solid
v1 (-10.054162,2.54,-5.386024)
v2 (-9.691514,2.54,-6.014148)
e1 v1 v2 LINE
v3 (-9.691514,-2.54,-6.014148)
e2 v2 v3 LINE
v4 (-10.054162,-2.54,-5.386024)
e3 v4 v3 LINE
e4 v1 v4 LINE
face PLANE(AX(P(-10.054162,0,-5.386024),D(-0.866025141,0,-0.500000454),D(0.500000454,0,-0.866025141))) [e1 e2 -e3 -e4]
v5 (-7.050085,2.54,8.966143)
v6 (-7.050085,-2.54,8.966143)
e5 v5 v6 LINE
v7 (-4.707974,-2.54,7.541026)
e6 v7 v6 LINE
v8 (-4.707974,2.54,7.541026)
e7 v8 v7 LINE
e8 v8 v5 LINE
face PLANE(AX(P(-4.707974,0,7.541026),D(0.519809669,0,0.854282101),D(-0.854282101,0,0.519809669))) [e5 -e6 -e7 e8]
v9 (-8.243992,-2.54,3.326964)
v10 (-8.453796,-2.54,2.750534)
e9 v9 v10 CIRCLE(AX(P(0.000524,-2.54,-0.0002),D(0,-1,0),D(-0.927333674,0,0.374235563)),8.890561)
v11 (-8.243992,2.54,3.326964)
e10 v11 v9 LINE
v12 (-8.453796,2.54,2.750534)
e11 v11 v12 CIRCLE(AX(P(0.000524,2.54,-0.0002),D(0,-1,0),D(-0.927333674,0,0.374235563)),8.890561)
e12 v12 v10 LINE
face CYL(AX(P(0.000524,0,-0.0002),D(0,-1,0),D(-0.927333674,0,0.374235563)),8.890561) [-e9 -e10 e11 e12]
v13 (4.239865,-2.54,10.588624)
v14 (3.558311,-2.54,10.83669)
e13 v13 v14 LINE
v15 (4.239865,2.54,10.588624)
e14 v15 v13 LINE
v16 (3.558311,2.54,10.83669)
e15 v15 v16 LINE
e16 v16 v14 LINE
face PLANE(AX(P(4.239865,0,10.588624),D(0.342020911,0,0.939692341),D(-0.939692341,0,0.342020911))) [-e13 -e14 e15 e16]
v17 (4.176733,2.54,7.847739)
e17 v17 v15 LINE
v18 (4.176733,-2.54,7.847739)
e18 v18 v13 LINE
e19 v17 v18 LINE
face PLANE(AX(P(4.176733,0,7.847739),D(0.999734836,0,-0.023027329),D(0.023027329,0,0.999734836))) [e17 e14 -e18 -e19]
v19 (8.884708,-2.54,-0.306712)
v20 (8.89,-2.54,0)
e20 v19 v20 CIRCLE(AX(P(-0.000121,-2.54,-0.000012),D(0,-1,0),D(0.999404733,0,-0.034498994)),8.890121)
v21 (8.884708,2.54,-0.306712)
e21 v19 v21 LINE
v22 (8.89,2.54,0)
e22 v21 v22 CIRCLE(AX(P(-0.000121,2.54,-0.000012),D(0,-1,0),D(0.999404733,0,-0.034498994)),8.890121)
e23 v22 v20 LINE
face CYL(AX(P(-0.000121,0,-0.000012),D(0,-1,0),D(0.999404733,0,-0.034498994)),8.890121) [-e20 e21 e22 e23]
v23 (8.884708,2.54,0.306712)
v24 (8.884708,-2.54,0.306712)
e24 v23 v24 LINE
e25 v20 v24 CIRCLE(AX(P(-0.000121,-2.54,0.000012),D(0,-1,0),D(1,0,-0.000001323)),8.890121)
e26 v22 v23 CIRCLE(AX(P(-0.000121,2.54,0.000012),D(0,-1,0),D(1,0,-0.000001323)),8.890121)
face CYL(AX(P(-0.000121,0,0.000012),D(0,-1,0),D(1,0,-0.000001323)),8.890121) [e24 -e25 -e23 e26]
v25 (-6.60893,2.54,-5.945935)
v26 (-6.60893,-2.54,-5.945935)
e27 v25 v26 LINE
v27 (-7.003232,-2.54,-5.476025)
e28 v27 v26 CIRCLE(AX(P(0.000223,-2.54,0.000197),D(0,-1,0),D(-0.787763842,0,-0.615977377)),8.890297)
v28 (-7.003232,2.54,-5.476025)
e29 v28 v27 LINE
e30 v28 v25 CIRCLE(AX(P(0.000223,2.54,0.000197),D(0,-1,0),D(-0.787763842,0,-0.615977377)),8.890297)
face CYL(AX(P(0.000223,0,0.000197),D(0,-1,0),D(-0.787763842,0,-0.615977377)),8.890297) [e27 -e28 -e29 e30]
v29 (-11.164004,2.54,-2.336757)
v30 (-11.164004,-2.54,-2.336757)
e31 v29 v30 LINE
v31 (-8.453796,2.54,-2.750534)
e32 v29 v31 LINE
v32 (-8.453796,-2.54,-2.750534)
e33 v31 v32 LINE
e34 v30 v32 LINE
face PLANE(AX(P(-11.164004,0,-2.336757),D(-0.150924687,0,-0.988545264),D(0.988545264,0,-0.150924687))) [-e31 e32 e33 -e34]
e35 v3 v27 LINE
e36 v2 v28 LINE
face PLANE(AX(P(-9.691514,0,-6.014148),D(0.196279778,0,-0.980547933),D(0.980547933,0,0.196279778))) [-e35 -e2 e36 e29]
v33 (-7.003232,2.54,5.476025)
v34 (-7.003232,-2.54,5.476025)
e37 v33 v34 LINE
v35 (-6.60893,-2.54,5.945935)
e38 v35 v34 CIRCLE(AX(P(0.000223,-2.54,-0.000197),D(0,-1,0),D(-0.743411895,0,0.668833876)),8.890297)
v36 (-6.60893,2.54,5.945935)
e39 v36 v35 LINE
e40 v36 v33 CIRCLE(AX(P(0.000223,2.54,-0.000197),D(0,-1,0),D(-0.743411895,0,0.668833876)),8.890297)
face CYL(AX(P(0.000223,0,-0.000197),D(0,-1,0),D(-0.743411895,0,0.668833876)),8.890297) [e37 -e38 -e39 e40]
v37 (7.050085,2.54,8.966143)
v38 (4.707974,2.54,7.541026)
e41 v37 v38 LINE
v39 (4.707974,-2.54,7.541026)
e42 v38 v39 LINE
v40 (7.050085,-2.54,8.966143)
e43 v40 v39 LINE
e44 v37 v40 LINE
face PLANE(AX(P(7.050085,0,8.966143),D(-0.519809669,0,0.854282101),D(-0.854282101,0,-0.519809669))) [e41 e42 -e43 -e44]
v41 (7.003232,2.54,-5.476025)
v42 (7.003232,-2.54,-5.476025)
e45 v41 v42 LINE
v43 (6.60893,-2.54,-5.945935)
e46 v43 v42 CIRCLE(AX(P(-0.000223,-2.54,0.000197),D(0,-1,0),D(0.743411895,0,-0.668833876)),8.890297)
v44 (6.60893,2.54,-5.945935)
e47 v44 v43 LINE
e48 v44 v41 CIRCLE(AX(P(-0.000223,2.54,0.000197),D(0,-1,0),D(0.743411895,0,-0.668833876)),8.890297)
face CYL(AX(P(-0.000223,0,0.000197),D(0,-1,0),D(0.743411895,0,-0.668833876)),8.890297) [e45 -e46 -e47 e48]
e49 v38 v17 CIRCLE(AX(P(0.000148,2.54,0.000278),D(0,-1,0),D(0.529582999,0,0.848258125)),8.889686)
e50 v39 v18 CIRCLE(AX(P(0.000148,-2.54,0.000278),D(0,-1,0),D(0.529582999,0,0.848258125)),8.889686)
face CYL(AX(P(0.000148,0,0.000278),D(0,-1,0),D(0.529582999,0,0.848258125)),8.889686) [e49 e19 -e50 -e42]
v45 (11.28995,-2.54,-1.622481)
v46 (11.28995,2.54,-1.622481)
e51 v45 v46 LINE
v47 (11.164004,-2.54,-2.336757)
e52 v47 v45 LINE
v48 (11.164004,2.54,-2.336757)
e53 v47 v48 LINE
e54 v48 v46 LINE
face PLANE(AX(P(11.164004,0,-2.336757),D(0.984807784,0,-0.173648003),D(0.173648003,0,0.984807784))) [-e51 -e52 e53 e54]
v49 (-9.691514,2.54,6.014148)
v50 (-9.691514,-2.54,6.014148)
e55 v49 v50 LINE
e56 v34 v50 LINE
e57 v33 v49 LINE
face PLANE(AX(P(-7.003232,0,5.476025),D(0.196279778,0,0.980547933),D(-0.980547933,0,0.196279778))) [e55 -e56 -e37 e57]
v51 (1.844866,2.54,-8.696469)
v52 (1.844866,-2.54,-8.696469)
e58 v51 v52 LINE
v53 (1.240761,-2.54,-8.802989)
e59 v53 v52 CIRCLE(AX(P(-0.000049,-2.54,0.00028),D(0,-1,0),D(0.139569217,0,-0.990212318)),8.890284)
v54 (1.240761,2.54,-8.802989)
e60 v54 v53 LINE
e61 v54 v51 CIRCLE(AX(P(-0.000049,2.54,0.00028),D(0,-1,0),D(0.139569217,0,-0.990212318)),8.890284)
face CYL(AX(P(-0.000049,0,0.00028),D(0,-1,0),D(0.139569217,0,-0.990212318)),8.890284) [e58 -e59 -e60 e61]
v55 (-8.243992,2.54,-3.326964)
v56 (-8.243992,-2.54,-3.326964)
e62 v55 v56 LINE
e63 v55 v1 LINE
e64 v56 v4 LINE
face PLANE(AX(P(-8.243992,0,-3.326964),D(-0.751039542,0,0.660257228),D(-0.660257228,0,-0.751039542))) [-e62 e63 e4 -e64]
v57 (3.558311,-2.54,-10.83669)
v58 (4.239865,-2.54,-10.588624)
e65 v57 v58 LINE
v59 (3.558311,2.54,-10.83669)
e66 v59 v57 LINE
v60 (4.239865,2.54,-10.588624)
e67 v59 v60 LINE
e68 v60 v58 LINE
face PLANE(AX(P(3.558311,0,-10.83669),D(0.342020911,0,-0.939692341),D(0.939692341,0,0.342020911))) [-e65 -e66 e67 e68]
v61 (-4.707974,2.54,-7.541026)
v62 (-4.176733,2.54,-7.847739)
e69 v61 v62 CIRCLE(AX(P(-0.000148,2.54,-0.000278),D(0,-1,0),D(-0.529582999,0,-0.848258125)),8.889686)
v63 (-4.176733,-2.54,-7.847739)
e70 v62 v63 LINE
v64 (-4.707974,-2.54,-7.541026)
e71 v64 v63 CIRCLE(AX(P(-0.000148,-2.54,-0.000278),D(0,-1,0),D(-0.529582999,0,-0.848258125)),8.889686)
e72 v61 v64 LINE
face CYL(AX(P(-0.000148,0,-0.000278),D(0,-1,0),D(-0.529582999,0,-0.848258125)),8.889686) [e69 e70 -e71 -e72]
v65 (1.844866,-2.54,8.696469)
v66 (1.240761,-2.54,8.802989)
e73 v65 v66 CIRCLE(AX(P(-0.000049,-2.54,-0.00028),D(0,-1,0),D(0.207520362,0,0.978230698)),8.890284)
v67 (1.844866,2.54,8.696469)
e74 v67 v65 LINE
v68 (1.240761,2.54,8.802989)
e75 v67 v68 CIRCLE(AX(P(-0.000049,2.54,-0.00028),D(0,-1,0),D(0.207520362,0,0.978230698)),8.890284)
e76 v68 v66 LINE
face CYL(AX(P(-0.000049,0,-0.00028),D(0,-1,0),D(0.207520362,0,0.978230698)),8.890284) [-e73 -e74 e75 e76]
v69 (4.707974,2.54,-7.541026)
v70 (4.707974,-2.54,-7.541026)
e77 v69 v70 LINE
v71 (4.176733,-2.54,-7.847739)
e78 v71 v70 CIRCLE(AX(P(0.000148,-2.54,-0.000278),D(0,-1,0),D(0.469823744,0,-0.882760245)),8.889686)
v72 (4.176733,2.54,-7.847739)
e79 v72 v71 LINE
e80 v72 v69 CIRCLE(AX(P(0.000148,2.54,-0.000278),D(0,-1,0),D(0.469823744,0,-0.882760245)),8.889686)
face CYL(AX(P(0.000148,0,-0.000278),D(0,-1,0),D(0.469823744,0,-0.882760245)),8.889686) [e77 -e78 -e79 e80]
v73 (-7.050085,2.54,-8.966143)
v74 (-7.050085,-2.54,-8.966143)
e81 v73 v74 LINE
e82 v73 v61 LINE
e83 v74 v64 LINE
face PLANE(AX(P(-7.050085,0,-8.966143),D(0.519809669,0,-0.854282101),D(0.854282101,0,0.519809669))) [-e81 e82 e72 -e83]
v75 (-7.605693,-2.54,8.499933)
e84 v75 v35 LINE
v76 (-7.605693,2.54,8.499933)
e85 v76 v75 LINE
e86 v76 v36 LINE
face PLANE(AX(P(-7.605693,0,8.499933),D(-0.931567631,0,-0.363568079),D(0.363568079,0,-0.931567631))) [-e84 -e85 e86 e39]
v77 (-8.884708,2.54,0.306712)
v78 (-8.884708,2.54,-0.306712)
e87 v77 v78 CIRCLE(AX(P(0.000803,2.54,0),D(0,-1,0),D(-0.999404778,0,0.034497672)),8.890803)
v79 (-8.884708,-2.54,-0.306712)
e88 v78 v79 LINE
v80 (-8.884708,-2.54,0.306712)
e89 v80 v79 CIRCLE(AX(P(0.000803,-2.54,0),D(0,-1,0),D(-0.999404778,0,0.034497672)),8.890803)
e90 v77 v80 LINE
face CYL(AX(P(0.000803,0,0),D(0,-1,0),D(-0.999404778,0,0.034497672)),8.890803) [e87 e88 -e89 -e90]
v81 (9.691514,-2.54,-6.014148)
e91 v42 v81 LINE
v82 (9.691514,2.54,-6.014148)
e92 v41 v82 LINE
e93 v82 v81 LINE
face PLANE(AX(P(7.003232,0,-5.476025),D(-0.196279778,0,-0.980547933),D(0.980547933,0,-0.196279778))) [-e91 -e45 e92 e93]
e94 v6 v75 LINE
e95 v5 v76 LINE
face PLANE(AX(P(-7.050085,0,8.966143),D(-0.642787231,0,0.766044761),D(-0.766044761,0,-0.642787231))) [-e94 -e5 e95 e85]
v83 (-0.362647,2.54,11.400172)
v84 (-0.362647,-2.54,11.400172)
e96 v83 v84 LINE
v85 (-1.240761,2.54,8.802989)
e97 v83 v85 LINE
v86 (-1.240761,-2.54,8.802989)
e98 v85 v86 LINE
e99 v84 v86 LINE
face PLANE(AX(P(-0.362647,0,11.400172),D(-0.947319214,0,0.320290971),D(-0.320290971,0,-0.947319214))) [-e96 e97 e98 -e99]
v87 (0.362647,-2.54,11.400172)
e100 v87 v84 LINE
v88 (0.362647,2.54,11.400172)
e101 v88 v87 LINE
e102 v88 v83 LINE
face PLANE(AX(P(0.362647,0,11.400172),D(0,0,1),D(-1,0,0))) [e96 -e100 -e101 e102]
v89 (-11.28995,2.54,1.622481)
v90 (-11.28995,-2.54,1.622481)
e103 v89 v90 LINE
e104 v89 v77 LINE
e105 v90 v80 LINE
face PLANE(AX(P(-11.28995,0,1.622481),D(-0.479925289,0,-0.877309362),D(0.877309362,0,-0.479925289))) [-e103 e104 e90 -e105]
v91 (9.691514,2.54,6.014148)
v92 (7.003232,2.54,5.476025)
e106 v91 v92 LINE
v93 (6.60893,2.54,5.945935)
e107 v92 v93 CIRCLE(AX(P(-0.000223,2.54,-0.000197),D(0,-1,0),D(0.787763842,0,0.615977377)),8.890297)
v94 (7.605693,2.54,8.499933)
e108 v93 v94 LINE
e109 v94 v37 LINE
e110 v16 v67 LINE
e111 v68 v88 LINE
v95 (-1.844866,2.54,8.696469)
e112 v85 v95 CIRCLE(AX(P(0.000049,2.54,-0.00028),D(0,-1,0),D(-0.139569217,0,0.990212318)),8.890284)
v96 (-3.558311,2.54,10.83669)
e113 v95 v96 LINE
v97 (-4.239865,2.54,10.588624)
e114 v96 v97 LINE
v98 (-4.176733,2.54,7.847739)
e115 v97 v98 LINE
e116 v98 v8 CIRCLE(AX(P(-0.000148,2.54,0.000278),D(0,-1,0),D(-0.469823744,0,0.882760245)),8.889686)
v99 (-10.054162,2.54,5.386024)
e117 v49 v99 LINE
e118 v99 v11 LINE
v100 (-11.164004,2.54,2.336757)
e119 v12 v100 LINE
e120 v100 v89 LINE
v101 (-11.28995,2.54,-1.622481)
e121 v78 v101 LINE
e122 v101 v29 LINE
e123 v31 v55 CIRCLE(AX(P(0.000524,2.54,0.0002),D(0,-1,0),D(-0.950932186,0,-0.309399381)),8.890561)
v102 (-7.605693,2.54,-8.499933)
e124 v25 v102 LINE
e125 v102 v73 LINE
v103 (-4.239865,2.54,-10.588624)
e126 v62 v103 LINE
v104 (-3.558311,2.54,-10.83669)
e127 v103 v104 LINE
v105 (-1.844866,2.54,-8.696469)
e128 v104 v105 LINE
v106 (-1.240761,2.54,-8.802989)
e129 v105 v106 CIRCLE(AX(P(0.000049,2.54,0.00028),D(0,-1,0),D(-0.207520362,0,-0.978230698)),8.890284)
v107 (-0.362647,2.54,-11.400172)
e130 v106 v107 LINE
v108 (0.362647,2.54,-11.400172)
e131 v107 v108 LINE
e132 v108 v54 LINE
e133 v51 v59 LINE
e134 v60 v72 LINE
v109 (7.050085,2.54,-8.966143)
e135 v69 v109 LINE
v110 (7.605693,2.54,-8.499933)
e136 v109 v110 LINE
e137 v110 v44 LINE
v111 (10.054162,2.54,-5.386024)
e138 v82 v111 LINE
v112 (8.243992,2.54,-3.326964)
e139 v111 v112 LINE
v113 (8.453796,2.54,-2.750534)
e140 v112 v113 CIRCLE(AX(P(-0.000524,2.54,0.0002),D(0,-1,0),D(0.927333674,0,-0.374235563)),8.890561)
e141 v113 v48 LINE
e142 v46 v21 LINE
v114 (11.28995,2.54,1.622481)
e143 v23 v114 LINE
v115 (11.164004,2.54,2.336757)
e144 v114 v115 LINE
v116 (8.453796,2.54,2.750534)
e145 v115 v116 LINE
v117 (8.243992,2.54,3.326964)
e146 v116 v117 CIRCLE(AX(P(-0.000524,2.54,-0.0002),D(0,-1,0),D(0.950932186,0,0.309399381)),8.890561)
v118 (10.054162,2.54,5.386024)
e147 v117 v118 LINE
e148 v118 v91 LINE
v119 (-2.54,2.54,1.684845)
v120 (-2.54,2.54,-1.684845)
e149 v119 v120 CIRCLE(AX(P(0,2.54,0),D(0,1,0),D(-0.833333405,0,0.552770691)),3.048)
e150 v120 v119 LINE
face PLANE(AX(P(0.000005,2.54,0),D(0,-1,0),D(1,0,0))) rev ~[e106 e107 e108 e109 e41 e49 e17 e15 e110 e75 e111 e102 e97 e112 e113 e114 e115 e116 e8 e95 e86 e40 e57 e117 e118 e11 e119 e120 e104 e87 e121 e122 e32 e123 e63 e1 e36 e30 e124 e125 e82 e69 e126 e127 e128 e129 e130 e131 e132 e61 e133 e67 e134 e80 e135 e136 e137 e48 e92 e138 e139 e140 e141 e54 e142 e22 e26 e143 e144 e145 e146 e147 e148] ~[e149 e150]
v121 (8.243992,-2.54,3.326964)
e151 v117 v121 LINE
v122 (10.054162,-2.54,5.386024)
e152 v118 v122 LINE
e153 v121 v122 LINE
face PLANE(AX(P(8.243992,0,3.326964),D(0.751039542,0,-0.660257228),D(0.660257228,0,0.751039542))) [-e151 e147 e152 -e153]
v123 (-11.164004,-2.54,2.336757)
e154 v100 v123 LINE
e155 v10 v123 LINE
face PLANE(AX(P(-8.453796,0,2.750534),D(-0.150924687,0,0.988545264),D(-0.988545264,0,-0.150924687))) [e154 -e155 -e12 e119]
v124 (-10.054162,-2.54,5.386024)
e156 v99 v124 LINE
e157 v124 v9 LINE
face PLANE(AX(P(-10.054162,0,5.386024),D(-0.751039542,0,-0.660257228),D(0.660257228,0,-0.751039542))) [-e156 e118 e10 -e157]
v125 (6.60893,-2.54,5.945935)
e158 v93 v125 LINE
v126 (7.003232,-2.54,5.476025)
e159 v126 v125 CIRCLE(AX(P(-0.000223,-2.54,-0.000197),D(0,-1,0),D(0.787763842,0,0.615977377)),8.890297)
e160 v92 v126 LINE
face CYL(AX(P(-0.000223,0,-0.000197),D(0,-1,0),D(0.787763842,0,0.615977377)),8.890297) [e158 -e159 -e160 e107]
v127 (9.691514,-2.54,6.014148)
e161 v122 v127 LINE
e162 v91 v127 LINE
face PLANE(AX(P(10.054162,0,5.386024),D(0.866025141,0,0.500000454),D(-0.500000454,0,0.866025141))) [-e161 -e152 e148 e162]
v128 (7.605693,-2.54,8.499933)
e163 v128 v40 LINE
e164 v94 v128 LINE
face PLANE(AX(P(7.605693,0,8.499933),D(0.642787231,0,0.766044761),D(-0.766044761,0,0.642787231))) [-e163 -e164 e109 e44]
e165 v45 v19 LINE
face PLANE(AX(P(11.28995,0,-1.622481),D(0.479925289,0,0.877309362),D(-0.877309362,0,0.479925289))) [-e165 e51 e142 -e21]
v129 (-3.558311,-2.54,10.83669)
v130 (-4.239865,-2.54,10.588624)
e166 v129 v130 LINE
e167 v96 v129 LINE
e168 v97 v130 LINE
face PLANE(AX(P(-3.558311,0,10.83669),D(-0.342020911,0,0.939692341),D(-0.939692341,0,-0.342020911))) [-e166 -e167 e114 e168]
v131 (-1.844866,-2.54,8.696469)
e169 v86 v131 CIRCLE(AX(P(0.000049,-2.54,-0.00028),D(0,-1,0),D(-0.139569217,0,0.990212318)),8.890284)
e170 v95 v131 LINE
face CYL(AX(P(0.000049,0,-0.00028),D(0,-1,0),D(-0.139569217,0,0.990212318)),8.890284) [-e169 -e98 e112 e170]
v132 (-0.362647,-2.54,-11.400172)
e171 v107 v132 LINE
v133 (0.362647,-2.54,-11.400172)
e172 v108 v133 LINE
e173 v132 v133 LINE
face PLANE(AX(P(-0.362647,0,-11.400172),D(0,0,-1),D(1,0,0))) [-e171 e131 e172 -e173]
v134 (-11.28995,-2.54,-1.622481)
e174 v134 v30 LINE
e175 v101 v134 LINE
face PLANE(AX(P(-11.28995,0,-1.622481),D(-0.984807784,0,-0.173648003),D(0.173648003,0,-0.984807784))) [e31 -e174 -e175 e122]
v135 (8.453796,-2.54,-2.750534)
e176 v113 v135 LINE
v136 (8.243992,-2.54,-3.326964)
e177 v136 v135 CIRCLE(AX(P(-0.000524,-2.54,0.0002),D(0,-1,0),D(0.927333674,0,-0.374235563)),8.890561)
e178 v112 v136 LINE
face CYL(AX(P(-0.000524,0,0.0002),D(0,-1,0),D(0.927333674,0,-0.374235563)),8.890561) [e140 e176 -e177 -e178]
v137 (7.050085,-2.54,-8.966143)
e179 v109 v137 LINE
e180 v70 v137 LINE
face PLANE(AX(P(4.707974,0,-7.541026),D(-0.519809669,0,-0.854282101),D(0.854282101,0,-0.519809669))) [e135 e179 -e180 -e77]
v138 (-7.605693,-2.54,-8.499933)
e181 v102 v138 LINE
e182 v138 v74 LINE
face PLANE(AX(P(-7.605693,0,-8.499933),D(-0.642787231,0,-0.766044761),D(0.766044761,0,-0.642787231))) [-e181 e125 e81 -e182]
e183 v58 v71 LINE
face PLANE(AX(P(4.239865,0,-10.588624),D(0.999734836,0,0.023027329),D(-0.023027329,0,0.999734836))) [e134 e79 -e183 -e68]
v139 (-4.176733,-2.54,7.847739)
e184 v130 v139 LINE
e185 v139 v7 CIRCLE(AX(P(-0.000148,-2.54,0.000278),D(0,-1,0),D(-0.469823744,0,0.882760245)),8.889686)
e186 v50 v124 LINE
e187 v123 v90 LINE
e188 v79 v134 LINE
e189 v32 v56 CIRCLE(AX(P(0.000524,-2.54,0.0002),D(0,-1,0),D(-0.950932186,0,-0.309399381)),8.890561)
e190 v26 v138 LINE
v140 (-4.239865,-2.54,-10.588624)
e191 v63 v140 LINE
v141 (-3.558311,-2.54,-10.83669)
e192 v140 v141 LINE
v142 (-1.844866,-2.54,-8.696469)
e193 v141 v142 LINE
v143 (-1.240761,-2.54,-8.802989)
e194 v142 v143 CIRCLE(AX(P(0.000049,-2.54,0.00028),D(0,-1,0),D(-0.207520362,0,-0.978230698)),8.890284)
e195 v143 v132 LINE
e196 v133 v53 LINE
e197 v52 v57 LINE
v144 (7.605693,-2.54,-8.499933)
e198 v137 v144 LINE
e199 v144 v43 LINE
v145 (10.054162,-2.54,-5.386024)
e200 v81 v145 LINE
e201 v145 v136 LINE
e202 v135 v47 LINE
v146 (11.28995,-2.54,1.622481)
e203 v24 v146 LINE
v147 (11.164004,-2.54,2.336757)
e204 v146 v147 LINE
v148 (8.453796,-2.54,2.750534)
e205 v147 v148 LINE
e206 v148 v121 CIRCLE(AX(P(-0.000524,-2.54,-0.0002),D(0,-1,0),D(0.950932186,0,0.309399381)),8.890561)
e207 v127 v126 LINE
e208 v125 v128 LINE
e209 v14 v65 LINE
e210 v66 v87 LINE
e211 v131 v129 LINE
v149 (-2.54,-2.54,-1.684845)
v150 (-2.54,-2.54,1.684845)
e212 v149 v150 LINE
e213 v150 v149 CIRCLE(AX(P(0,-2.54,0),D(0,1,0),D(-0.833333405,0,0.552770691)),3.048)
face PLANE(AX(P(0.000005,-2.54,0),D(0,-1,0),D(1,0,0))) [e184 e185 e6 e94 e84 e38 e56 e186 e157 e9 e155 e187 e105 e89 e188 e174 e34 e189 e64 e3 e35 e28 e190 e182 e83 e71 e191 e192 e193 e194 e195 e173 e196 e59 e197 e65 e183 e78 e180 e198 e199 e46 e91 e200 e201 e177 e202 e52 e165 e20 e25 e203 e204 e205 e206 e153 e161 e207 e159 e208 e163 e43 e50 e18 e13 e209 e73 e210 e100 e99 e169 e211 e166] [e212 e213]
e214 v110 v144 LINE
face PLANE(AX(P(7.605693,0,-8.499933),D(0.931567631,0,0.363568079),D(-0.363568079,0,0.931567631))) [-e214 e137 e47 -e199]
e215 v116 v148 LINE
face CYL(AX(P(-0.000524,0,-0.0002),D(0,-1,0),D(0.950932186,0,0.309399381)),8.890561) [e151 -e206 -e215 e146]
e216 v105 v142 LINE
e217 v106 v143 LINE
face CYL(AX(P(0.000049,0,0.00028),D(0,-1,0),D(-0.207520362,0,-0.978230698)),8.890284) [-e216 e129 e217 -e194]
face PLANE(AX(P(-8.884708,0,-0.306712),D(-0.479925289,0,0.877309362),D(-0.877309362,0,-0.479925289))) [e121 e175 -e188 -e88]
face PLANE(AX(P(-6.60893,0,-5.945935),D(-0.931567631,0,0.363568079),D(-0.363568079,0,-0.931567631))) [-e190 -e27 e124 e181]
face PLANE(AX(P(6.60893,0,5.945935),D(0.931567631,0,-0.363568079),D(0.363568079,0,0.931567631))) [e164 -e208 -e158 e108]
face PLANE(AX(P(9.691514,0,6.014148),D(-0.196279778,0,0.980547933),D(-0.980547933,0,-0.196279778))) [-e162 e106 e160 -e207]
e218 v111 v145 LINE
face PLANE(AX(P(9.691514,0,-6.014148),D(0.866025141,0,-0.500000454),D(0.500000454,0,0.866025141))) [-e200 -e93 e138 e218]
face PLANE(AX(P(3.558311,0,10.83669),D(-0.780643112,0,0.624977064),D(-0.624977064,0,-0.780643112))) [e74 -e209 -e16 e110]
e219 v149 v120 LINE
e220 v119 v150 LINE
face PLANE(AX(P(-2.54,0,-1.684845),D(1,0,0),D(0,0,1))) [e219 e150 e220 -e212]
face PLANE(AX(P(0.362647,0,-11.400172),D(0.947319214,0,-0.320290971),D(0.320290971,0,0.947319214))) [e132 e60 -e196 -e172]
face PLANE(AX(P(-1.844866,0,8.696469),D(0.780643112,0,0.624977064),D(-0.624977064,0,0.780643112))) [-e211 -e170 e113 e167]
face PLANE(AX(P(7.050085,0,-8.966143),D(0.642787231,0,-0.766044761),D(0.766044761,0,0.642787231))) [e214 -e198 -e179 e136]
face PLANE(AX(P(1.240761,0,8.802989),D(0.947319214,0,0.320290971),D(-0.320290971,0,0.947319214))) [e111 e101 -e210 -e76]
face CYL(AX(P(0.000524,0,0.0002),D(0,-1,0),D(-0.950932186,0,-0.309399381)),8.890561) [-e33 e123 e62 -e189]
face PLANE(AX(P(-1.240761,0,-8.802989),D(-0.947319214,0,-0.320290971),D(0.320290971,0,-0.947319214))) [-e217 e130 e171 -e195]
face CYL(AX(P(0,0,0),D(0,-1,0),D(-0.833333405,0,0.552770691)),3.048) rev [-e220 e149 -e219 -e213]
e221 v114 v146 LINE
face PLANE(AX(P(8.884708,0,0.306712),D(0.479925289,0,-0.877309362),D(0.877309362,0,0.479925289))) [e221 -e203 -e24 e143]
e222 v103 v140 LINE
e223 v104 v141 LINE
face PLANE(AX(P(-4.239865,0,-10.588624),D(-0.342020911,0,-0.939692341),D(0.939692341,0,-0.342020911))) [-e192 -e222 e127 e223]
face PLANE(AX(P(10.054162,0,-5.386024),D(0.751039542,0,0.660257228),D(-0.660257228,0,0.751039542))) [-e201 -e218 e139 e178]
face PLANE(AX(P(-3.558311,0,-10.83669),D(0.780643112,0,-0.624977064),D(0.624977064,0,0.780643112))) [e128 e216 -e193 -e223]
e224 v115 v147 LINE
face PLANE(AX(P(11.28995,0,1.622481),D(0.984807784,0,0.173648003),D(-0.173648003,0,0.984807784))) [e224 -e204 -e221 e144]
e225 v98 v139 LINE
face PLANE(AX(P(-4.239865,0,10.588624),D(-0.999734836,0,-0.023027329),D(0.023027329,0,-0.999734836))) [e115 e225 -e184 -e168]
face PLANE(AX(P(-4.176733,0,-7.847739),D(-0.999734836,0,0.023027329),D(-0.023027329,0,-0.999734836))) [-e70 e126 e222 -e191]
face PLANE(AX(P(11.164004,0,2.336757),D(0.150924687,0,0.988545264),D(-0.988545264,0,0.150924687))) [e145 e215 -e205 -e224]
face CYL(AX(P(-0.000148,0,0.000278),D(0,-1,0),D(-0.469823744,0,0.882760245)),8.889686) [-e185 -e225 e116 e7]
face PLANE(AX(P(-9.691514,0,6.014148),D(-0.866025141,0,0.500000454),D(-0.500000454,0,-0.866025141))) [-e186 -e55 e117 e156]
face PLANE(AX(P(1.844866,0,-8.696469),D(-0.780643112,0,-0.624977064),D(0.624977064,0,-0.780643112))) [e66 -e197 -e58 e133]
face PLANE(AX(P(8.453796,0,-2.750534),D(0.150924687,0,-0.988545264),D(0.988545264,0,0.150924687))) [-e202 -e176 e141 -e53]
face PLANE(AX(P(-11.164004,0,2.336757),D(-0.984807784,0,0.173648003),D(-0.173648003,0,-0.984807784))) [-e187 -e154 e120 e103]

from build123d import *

# Parameters (mm, degrees)
F1_DEPTH = 2.54


with BuildPart() as f1:
    # F0 (on Front) → F1 (new body, symmetric)
    with BuildSketch(Plane.XZ):
        with BuildLine():
            ThreePointArc((8.884708, -0.306712), (8.888677, -0.153379), (8.89, 0))
            ThreePointArc((8.89, 0), (8.888677, 0.153379), (8.884708, 0.306712))
            ThreePointArc((8.884708, 0.306712), (8.754941, 1.543732), (8.453796, 2.750534))
            ThreePointArc((8.453796, 2.750534), (8.353867, 3.040559), (8.243992, 3.326964))
            ThreePointArc((8.243992, 3.326964), (7.698966, 4.445), (7.003232, 5.476025))
            ThreePointArc((7.003232, 5.476025), (6.810135, 5.714382), (6.60893, 5.945935))
            ThreePointArc((6.60893, 5.945935), (5.714382, 6.810135), (4.707974, 7.541026))
            ThreePointArc((4.707974, 7.541026), (4.445, 7.698966), (4.176733, 7.847739))
            ThreePointArc((4.176733, 7.847739), (3.040559, 8.353867), (1.844866, 8.696469))
            ThreePointArc((1.844866, 8.696469), (1.543732, 8.754941), (1.240761, 8.802989))
            ThreePointArc((1.240761, 8.802989), (0, 8.89), (-1.240761, 8.802989))
            ThreePointArc((-1.240761, 8.802989), (-1.543732, 8.754941), (-1.844866, 8.696469))
            ThreePointArc((-1.844866, 8.696469), (-3.040559, 8.353867), (-4.176733, 7.847739))
            ThreePointArc((-4.176733, 7.847739), (-4.445, 7.698966), (-4.707974, 7.541026))
            ThreePointArc((-4.707974, 7.541026), (-5.714382, 6.810135), (-6.60893, 5.945935))
            ThreePointArc((-6.60893, 5.945935), (-6.810135, 5.714382), (-7.003232, 5.476025))
            ThreePointArc((-7.003232, 5.476025), (-7.698966, 4.445), (-8.243992, 3.326964))
            ThreePointArc((-8.243992, 3.326964), (-8.353867, 3.040559), (-8.453796, 2.750534))
            ThreePointArc((-8.453796, 2.750534), (-8.754941, 1.543732), (-8.884708, 0.306712))
            ThreePointArc((-8.884708, 0.306712), (-8.89, 0), (-8.884708, -0.306712))
            ThreePointArc((-8.884708, -0.306712), (-8.754941, -1.543732), (-8.453796, -2.750534))
            ThreePointArc((-8.453796, -2.750534), (-8.353867, -3.040559), (-8.243992, -3.326964))
            ThreePointArc((-8.243992, -3.326964), (-7.698966, -4.445), (-7.003232, -5.476025))
            ThreePointArc((-7.003232, -5.476025), (-6.810135, -5.714382), (-6.60893, -5.945935))
            ThreePointArc((-6.60893, -5.945935), (-5.714382, -6.810135), (-4.707974, -7.541026))
            ThreePointArc((-4.707974, -7.541026), (-4.445, -7.698966), (-4.176733, -7.847739))
            ThreePointArc((-4.176733, -7.847739), (-3.040559, -8.353867), (-1.844866, -8.696469))
            ThreePointArc((-1.844866, -8.696469), (-1.543732, -8.754941), (-1.240761, -8.802989))
            ThreePointArc((-1.240761, -8.802989), (0, -8.89), (1.240761, -8.802989))
            ThreePointArc((1.240761, -8.802989), (1.543732, -8.754941), (1.844866, -8.696469))
            ThreePointArc((1.844866, -8.696469), (3.040559, -8.353867), (4.176733, -7.847739))
            ThreePointArc((4.176733, -7.847739), (4.445, -7.698966), (4.707974, -7.541026))
            ThreePointArc((4.707974, -7.541026), (5.714382, -6.810135), (6.60893, -5.945935))
            ThreePointArc((6.60893, -5.945935), (6.810135, -5.714382), (7.003232, -5.476025))
            ThreePointArc((7.003232, -5.476025), (7.698966, -4.445), (8.243992, -3.326964))
            ThreePointArc((8.243992, -3.326964), (8.353867, -3.040559), (8.453796, -2.750534))
            ThreePointArc((8.453796, -2.750534), (8.754941, -1.543732), (8.884708, -0.306712))
        make_face()
        with BuildLine():
            ThreePointArc((-2.54, 1.684845), (3.048, 0), (-2.54, -1.684845))
            Line((-2.54, -1.684845), (-2.54, 1.684845))
        make_face(mode=Mode.SUBTRACT)
        with BuildLine():
            ThreePointArc((1.844866, 8.696469), (3.040559, 8.353867), (4.176733, 7.847739))
            Line((4.176733, 7.847739), (4.239865, 10.588624))
            Line((4.239865, 10.588624), (3.558311, 10.83669))
            Line((3.558311, 10.83669), (1.844866, 8.696469))
        make_face()
        with BuildLine():
            ThreePointArc((-1.240761, 8.802989), (0, 8.89), (1.240761, 8.802989))
            Line((1.240761, 8.802989), (0.362647, 11.400172))
            Line((0.362647, 11.400172), (-0.362647, 11.400172))
            Line((-0.362647, 11.400172), (-1.240761, 8.802989))
        make_face()
        with BuildLine():
            ThreePointArc((-4.176733, 7.847739), (-3.040559, 8.353867), (-1.844866, 8.696469))
            Line((-1.844866, 8.696469), (-3.558311, 10.83669))
            Line((-3.558311, 10.83669), (-4.239865, 10.588624))
            Line((-4.239865, 10.588624), (-4.176733, 7.847739))
        make_face()
        with BuildLine():
            ThreePointArc((-6.60893, 5.945935), (-5.714382, 6.810135), (-4.707974, 7.541026))
            Line((-4.707974, 7.541026), (-7.050085, 8.966143))
            Line((-7.050085, 8.966143), (-7.605693, 8.499933))
            Line((-7.605693, 8.499933), (-6.60893, 5.945935))
        make_face()
        with BuildLine():
            ThreePointArc((-8.243992, 3.326964), (-7.698966, 4.445), (-7.003232, 5.476025))
            Line((-7.003232, 5.476025), (-9.691514, 6.014148))
            Line((-9.691514, 6.014148), (-10.054162, 5.386024))
            Line((-10.054162, 5.386024), (-8.243992, 3.326964))
        make_face()
        with BuildLine():
            ThreePointArc((-8.884708, 0.306712), (-8.754941, 1.543732), (-8.453796, 2.750534))
            Line((-8.453796, 2.750534), (-11.164004, 2.336757))
            Line((-11.164004, 2.336757), (-11.28995, 1.622481))
            Line((-11.28995, 1.622481), (-8.884708, 0.306712))
        make_face()
        with BuildLine():
            Line((-11.164004, -2.336757), (-8.453796, -2.750534))
            ThreePointArc((-8.453796, -2.750534), (-8.754941, -1.543732), (-8.884708, -0.306712))
            Line((-8.884708, -0.306712), (-11.28995, -1.622481))
            Line((-11.28995, -1.622481), (-11.164004, -2.336757))
        make_face()
        with BuildLine():
            Line((-9.691514, -6.014148), (-7.003232, -5.476025))
            ThreePointArc((-7.003232, -5.476025), (-7.698966, -4.445), (-8.243992, -3.326964))
            Line((-8.243992, -3.326964), (-10.054162, -5.386024))
            Line((-10.054162, -5.386024), (-9.691514, -6.014148))
        make_face()
        with BuildLine():
            Line((-7.050085, -8.966143), (-4.707974, -7.541026))
            ThreePointArc((-4.707974, -7.541026), (-5.714382, -6.810135), (-6.60893, -5.945935))
            Line((-6.60893, -5.945935), (-7.605693, -8.499933))
            Line((-7.605693, -8.499933), (-7.050085, -8.966143))
        make_face()
        with BuildLine():
            Line((-3.558311, -10.83669), (-1.844866, -8.696469))
            ThreePointArc((-1.844866, -8.696469), (-3.040559, -8.353867), (-4.176733, -7.847739))
            Line((-4.176733, -7.847739), (-4.239865, -10.588624))
            Line((-4.239865, -10.588624), (-3.558311, -10.83669))
        make_face()
        with BuildLine():
            Line((4.239865, -10.588624), (4.176733, -7.847739))
            ThreePointArc((4.176733, -7.847739), (3.040559, -8.353867), (1.844866, -8.696469))
            Line((1.844866, -8.696469), (3.558311, -10.83669))
            Line((3.558311, -10.83669), (4.239865, -10.588624))
        make_face()
        with BuildLine():
            Line((7.605693, -8.499933), (6.60893, -5.945935))
            ThreePointArc((6.60893, -5.945935), (5.714382, -6.810135), (4.707974, -7.541026))
            Line((4.707974, -7.541026), (7.050085, -8.966143))
            Line((7.050085, -8.966143), (7.605693, -8.499933))
        make_face()
        with BuildLine():
            Line((10.054162, -5.386024), (8.243992, -3.326964))
            ThreePointArc((8.243992, -3.326964), (7.698966, -4.445), (7.003232, -5.476025))
            Line((7.003232, -5.476025), (9.691514, -6.014148))
            Line((9.691514, -6.014148), (10.054162, -5.386024))
        make_face()
        with BuildLine():
            Line((11.28995, -1.622481), (8.884708, -0.306712))
            ThreePointArc((8.884708, -0.306712), (8.754941, -1.543732), (8.453796, -2.750534))
            Line((8.453796, -2.750534), (11.164004, -2.336757))
            Line((11.164004, -2.336757), (11.28995, -1.622481))
        make_face()
        with BuildLine():
            ThreePointArc((7.003232, 5.476025), (7.698966, 4.445), (8.243992, 3.326964))
            Line((8.243992, 3.326964), (10.054162, 5.386024))
            Line((10.054162, 5.386024), (9.691514, 6.014148))
            Line((9.691514, 6.014148), (7.003232, 5.476025))
        make_face()
        with BuildLine():
            ThreePointArc((4.707974, 7.541026), (5.714382, 6.810135), (6.60893, 5.945935))
            Line((6.60893, 5.945935), (7.605693, 8.499933))
            Line((7.605693, 8.499933), (7.050085, 8.966143))
            Line((7.050085, 8.966143), (4.707974, 7.541026))
        make_face()
        with BuildLine():
            ThreePointArc((8.453796, 2.750534), (8.754941, 1.543732), (8.884708, 0.306712))
            Line((8.884708, 0.306712), (11.28995, 1.622481))
            Line((11.28995, 1.622481), (11.164004, 2.336757))
            Line((11.164004, 2.336757), (8.453796, 2.750534))
        make_face()
        with BuildLine():
            Line((0.362647, -11.400172), (1.240761, -8.802989))
            ThreePointArc((1.240761, -8.802989), (0, -8.89), (-1.240761, -8.802989))
            Line((-1.240761, -8.802989), (-0.362647, -11.400172))
            Line((-0.362647, -11.400172), (0.362647, -11.400172))
        make_face()
    extrude(amount=F1_DEPTH, both=True)


solid = f1.part
